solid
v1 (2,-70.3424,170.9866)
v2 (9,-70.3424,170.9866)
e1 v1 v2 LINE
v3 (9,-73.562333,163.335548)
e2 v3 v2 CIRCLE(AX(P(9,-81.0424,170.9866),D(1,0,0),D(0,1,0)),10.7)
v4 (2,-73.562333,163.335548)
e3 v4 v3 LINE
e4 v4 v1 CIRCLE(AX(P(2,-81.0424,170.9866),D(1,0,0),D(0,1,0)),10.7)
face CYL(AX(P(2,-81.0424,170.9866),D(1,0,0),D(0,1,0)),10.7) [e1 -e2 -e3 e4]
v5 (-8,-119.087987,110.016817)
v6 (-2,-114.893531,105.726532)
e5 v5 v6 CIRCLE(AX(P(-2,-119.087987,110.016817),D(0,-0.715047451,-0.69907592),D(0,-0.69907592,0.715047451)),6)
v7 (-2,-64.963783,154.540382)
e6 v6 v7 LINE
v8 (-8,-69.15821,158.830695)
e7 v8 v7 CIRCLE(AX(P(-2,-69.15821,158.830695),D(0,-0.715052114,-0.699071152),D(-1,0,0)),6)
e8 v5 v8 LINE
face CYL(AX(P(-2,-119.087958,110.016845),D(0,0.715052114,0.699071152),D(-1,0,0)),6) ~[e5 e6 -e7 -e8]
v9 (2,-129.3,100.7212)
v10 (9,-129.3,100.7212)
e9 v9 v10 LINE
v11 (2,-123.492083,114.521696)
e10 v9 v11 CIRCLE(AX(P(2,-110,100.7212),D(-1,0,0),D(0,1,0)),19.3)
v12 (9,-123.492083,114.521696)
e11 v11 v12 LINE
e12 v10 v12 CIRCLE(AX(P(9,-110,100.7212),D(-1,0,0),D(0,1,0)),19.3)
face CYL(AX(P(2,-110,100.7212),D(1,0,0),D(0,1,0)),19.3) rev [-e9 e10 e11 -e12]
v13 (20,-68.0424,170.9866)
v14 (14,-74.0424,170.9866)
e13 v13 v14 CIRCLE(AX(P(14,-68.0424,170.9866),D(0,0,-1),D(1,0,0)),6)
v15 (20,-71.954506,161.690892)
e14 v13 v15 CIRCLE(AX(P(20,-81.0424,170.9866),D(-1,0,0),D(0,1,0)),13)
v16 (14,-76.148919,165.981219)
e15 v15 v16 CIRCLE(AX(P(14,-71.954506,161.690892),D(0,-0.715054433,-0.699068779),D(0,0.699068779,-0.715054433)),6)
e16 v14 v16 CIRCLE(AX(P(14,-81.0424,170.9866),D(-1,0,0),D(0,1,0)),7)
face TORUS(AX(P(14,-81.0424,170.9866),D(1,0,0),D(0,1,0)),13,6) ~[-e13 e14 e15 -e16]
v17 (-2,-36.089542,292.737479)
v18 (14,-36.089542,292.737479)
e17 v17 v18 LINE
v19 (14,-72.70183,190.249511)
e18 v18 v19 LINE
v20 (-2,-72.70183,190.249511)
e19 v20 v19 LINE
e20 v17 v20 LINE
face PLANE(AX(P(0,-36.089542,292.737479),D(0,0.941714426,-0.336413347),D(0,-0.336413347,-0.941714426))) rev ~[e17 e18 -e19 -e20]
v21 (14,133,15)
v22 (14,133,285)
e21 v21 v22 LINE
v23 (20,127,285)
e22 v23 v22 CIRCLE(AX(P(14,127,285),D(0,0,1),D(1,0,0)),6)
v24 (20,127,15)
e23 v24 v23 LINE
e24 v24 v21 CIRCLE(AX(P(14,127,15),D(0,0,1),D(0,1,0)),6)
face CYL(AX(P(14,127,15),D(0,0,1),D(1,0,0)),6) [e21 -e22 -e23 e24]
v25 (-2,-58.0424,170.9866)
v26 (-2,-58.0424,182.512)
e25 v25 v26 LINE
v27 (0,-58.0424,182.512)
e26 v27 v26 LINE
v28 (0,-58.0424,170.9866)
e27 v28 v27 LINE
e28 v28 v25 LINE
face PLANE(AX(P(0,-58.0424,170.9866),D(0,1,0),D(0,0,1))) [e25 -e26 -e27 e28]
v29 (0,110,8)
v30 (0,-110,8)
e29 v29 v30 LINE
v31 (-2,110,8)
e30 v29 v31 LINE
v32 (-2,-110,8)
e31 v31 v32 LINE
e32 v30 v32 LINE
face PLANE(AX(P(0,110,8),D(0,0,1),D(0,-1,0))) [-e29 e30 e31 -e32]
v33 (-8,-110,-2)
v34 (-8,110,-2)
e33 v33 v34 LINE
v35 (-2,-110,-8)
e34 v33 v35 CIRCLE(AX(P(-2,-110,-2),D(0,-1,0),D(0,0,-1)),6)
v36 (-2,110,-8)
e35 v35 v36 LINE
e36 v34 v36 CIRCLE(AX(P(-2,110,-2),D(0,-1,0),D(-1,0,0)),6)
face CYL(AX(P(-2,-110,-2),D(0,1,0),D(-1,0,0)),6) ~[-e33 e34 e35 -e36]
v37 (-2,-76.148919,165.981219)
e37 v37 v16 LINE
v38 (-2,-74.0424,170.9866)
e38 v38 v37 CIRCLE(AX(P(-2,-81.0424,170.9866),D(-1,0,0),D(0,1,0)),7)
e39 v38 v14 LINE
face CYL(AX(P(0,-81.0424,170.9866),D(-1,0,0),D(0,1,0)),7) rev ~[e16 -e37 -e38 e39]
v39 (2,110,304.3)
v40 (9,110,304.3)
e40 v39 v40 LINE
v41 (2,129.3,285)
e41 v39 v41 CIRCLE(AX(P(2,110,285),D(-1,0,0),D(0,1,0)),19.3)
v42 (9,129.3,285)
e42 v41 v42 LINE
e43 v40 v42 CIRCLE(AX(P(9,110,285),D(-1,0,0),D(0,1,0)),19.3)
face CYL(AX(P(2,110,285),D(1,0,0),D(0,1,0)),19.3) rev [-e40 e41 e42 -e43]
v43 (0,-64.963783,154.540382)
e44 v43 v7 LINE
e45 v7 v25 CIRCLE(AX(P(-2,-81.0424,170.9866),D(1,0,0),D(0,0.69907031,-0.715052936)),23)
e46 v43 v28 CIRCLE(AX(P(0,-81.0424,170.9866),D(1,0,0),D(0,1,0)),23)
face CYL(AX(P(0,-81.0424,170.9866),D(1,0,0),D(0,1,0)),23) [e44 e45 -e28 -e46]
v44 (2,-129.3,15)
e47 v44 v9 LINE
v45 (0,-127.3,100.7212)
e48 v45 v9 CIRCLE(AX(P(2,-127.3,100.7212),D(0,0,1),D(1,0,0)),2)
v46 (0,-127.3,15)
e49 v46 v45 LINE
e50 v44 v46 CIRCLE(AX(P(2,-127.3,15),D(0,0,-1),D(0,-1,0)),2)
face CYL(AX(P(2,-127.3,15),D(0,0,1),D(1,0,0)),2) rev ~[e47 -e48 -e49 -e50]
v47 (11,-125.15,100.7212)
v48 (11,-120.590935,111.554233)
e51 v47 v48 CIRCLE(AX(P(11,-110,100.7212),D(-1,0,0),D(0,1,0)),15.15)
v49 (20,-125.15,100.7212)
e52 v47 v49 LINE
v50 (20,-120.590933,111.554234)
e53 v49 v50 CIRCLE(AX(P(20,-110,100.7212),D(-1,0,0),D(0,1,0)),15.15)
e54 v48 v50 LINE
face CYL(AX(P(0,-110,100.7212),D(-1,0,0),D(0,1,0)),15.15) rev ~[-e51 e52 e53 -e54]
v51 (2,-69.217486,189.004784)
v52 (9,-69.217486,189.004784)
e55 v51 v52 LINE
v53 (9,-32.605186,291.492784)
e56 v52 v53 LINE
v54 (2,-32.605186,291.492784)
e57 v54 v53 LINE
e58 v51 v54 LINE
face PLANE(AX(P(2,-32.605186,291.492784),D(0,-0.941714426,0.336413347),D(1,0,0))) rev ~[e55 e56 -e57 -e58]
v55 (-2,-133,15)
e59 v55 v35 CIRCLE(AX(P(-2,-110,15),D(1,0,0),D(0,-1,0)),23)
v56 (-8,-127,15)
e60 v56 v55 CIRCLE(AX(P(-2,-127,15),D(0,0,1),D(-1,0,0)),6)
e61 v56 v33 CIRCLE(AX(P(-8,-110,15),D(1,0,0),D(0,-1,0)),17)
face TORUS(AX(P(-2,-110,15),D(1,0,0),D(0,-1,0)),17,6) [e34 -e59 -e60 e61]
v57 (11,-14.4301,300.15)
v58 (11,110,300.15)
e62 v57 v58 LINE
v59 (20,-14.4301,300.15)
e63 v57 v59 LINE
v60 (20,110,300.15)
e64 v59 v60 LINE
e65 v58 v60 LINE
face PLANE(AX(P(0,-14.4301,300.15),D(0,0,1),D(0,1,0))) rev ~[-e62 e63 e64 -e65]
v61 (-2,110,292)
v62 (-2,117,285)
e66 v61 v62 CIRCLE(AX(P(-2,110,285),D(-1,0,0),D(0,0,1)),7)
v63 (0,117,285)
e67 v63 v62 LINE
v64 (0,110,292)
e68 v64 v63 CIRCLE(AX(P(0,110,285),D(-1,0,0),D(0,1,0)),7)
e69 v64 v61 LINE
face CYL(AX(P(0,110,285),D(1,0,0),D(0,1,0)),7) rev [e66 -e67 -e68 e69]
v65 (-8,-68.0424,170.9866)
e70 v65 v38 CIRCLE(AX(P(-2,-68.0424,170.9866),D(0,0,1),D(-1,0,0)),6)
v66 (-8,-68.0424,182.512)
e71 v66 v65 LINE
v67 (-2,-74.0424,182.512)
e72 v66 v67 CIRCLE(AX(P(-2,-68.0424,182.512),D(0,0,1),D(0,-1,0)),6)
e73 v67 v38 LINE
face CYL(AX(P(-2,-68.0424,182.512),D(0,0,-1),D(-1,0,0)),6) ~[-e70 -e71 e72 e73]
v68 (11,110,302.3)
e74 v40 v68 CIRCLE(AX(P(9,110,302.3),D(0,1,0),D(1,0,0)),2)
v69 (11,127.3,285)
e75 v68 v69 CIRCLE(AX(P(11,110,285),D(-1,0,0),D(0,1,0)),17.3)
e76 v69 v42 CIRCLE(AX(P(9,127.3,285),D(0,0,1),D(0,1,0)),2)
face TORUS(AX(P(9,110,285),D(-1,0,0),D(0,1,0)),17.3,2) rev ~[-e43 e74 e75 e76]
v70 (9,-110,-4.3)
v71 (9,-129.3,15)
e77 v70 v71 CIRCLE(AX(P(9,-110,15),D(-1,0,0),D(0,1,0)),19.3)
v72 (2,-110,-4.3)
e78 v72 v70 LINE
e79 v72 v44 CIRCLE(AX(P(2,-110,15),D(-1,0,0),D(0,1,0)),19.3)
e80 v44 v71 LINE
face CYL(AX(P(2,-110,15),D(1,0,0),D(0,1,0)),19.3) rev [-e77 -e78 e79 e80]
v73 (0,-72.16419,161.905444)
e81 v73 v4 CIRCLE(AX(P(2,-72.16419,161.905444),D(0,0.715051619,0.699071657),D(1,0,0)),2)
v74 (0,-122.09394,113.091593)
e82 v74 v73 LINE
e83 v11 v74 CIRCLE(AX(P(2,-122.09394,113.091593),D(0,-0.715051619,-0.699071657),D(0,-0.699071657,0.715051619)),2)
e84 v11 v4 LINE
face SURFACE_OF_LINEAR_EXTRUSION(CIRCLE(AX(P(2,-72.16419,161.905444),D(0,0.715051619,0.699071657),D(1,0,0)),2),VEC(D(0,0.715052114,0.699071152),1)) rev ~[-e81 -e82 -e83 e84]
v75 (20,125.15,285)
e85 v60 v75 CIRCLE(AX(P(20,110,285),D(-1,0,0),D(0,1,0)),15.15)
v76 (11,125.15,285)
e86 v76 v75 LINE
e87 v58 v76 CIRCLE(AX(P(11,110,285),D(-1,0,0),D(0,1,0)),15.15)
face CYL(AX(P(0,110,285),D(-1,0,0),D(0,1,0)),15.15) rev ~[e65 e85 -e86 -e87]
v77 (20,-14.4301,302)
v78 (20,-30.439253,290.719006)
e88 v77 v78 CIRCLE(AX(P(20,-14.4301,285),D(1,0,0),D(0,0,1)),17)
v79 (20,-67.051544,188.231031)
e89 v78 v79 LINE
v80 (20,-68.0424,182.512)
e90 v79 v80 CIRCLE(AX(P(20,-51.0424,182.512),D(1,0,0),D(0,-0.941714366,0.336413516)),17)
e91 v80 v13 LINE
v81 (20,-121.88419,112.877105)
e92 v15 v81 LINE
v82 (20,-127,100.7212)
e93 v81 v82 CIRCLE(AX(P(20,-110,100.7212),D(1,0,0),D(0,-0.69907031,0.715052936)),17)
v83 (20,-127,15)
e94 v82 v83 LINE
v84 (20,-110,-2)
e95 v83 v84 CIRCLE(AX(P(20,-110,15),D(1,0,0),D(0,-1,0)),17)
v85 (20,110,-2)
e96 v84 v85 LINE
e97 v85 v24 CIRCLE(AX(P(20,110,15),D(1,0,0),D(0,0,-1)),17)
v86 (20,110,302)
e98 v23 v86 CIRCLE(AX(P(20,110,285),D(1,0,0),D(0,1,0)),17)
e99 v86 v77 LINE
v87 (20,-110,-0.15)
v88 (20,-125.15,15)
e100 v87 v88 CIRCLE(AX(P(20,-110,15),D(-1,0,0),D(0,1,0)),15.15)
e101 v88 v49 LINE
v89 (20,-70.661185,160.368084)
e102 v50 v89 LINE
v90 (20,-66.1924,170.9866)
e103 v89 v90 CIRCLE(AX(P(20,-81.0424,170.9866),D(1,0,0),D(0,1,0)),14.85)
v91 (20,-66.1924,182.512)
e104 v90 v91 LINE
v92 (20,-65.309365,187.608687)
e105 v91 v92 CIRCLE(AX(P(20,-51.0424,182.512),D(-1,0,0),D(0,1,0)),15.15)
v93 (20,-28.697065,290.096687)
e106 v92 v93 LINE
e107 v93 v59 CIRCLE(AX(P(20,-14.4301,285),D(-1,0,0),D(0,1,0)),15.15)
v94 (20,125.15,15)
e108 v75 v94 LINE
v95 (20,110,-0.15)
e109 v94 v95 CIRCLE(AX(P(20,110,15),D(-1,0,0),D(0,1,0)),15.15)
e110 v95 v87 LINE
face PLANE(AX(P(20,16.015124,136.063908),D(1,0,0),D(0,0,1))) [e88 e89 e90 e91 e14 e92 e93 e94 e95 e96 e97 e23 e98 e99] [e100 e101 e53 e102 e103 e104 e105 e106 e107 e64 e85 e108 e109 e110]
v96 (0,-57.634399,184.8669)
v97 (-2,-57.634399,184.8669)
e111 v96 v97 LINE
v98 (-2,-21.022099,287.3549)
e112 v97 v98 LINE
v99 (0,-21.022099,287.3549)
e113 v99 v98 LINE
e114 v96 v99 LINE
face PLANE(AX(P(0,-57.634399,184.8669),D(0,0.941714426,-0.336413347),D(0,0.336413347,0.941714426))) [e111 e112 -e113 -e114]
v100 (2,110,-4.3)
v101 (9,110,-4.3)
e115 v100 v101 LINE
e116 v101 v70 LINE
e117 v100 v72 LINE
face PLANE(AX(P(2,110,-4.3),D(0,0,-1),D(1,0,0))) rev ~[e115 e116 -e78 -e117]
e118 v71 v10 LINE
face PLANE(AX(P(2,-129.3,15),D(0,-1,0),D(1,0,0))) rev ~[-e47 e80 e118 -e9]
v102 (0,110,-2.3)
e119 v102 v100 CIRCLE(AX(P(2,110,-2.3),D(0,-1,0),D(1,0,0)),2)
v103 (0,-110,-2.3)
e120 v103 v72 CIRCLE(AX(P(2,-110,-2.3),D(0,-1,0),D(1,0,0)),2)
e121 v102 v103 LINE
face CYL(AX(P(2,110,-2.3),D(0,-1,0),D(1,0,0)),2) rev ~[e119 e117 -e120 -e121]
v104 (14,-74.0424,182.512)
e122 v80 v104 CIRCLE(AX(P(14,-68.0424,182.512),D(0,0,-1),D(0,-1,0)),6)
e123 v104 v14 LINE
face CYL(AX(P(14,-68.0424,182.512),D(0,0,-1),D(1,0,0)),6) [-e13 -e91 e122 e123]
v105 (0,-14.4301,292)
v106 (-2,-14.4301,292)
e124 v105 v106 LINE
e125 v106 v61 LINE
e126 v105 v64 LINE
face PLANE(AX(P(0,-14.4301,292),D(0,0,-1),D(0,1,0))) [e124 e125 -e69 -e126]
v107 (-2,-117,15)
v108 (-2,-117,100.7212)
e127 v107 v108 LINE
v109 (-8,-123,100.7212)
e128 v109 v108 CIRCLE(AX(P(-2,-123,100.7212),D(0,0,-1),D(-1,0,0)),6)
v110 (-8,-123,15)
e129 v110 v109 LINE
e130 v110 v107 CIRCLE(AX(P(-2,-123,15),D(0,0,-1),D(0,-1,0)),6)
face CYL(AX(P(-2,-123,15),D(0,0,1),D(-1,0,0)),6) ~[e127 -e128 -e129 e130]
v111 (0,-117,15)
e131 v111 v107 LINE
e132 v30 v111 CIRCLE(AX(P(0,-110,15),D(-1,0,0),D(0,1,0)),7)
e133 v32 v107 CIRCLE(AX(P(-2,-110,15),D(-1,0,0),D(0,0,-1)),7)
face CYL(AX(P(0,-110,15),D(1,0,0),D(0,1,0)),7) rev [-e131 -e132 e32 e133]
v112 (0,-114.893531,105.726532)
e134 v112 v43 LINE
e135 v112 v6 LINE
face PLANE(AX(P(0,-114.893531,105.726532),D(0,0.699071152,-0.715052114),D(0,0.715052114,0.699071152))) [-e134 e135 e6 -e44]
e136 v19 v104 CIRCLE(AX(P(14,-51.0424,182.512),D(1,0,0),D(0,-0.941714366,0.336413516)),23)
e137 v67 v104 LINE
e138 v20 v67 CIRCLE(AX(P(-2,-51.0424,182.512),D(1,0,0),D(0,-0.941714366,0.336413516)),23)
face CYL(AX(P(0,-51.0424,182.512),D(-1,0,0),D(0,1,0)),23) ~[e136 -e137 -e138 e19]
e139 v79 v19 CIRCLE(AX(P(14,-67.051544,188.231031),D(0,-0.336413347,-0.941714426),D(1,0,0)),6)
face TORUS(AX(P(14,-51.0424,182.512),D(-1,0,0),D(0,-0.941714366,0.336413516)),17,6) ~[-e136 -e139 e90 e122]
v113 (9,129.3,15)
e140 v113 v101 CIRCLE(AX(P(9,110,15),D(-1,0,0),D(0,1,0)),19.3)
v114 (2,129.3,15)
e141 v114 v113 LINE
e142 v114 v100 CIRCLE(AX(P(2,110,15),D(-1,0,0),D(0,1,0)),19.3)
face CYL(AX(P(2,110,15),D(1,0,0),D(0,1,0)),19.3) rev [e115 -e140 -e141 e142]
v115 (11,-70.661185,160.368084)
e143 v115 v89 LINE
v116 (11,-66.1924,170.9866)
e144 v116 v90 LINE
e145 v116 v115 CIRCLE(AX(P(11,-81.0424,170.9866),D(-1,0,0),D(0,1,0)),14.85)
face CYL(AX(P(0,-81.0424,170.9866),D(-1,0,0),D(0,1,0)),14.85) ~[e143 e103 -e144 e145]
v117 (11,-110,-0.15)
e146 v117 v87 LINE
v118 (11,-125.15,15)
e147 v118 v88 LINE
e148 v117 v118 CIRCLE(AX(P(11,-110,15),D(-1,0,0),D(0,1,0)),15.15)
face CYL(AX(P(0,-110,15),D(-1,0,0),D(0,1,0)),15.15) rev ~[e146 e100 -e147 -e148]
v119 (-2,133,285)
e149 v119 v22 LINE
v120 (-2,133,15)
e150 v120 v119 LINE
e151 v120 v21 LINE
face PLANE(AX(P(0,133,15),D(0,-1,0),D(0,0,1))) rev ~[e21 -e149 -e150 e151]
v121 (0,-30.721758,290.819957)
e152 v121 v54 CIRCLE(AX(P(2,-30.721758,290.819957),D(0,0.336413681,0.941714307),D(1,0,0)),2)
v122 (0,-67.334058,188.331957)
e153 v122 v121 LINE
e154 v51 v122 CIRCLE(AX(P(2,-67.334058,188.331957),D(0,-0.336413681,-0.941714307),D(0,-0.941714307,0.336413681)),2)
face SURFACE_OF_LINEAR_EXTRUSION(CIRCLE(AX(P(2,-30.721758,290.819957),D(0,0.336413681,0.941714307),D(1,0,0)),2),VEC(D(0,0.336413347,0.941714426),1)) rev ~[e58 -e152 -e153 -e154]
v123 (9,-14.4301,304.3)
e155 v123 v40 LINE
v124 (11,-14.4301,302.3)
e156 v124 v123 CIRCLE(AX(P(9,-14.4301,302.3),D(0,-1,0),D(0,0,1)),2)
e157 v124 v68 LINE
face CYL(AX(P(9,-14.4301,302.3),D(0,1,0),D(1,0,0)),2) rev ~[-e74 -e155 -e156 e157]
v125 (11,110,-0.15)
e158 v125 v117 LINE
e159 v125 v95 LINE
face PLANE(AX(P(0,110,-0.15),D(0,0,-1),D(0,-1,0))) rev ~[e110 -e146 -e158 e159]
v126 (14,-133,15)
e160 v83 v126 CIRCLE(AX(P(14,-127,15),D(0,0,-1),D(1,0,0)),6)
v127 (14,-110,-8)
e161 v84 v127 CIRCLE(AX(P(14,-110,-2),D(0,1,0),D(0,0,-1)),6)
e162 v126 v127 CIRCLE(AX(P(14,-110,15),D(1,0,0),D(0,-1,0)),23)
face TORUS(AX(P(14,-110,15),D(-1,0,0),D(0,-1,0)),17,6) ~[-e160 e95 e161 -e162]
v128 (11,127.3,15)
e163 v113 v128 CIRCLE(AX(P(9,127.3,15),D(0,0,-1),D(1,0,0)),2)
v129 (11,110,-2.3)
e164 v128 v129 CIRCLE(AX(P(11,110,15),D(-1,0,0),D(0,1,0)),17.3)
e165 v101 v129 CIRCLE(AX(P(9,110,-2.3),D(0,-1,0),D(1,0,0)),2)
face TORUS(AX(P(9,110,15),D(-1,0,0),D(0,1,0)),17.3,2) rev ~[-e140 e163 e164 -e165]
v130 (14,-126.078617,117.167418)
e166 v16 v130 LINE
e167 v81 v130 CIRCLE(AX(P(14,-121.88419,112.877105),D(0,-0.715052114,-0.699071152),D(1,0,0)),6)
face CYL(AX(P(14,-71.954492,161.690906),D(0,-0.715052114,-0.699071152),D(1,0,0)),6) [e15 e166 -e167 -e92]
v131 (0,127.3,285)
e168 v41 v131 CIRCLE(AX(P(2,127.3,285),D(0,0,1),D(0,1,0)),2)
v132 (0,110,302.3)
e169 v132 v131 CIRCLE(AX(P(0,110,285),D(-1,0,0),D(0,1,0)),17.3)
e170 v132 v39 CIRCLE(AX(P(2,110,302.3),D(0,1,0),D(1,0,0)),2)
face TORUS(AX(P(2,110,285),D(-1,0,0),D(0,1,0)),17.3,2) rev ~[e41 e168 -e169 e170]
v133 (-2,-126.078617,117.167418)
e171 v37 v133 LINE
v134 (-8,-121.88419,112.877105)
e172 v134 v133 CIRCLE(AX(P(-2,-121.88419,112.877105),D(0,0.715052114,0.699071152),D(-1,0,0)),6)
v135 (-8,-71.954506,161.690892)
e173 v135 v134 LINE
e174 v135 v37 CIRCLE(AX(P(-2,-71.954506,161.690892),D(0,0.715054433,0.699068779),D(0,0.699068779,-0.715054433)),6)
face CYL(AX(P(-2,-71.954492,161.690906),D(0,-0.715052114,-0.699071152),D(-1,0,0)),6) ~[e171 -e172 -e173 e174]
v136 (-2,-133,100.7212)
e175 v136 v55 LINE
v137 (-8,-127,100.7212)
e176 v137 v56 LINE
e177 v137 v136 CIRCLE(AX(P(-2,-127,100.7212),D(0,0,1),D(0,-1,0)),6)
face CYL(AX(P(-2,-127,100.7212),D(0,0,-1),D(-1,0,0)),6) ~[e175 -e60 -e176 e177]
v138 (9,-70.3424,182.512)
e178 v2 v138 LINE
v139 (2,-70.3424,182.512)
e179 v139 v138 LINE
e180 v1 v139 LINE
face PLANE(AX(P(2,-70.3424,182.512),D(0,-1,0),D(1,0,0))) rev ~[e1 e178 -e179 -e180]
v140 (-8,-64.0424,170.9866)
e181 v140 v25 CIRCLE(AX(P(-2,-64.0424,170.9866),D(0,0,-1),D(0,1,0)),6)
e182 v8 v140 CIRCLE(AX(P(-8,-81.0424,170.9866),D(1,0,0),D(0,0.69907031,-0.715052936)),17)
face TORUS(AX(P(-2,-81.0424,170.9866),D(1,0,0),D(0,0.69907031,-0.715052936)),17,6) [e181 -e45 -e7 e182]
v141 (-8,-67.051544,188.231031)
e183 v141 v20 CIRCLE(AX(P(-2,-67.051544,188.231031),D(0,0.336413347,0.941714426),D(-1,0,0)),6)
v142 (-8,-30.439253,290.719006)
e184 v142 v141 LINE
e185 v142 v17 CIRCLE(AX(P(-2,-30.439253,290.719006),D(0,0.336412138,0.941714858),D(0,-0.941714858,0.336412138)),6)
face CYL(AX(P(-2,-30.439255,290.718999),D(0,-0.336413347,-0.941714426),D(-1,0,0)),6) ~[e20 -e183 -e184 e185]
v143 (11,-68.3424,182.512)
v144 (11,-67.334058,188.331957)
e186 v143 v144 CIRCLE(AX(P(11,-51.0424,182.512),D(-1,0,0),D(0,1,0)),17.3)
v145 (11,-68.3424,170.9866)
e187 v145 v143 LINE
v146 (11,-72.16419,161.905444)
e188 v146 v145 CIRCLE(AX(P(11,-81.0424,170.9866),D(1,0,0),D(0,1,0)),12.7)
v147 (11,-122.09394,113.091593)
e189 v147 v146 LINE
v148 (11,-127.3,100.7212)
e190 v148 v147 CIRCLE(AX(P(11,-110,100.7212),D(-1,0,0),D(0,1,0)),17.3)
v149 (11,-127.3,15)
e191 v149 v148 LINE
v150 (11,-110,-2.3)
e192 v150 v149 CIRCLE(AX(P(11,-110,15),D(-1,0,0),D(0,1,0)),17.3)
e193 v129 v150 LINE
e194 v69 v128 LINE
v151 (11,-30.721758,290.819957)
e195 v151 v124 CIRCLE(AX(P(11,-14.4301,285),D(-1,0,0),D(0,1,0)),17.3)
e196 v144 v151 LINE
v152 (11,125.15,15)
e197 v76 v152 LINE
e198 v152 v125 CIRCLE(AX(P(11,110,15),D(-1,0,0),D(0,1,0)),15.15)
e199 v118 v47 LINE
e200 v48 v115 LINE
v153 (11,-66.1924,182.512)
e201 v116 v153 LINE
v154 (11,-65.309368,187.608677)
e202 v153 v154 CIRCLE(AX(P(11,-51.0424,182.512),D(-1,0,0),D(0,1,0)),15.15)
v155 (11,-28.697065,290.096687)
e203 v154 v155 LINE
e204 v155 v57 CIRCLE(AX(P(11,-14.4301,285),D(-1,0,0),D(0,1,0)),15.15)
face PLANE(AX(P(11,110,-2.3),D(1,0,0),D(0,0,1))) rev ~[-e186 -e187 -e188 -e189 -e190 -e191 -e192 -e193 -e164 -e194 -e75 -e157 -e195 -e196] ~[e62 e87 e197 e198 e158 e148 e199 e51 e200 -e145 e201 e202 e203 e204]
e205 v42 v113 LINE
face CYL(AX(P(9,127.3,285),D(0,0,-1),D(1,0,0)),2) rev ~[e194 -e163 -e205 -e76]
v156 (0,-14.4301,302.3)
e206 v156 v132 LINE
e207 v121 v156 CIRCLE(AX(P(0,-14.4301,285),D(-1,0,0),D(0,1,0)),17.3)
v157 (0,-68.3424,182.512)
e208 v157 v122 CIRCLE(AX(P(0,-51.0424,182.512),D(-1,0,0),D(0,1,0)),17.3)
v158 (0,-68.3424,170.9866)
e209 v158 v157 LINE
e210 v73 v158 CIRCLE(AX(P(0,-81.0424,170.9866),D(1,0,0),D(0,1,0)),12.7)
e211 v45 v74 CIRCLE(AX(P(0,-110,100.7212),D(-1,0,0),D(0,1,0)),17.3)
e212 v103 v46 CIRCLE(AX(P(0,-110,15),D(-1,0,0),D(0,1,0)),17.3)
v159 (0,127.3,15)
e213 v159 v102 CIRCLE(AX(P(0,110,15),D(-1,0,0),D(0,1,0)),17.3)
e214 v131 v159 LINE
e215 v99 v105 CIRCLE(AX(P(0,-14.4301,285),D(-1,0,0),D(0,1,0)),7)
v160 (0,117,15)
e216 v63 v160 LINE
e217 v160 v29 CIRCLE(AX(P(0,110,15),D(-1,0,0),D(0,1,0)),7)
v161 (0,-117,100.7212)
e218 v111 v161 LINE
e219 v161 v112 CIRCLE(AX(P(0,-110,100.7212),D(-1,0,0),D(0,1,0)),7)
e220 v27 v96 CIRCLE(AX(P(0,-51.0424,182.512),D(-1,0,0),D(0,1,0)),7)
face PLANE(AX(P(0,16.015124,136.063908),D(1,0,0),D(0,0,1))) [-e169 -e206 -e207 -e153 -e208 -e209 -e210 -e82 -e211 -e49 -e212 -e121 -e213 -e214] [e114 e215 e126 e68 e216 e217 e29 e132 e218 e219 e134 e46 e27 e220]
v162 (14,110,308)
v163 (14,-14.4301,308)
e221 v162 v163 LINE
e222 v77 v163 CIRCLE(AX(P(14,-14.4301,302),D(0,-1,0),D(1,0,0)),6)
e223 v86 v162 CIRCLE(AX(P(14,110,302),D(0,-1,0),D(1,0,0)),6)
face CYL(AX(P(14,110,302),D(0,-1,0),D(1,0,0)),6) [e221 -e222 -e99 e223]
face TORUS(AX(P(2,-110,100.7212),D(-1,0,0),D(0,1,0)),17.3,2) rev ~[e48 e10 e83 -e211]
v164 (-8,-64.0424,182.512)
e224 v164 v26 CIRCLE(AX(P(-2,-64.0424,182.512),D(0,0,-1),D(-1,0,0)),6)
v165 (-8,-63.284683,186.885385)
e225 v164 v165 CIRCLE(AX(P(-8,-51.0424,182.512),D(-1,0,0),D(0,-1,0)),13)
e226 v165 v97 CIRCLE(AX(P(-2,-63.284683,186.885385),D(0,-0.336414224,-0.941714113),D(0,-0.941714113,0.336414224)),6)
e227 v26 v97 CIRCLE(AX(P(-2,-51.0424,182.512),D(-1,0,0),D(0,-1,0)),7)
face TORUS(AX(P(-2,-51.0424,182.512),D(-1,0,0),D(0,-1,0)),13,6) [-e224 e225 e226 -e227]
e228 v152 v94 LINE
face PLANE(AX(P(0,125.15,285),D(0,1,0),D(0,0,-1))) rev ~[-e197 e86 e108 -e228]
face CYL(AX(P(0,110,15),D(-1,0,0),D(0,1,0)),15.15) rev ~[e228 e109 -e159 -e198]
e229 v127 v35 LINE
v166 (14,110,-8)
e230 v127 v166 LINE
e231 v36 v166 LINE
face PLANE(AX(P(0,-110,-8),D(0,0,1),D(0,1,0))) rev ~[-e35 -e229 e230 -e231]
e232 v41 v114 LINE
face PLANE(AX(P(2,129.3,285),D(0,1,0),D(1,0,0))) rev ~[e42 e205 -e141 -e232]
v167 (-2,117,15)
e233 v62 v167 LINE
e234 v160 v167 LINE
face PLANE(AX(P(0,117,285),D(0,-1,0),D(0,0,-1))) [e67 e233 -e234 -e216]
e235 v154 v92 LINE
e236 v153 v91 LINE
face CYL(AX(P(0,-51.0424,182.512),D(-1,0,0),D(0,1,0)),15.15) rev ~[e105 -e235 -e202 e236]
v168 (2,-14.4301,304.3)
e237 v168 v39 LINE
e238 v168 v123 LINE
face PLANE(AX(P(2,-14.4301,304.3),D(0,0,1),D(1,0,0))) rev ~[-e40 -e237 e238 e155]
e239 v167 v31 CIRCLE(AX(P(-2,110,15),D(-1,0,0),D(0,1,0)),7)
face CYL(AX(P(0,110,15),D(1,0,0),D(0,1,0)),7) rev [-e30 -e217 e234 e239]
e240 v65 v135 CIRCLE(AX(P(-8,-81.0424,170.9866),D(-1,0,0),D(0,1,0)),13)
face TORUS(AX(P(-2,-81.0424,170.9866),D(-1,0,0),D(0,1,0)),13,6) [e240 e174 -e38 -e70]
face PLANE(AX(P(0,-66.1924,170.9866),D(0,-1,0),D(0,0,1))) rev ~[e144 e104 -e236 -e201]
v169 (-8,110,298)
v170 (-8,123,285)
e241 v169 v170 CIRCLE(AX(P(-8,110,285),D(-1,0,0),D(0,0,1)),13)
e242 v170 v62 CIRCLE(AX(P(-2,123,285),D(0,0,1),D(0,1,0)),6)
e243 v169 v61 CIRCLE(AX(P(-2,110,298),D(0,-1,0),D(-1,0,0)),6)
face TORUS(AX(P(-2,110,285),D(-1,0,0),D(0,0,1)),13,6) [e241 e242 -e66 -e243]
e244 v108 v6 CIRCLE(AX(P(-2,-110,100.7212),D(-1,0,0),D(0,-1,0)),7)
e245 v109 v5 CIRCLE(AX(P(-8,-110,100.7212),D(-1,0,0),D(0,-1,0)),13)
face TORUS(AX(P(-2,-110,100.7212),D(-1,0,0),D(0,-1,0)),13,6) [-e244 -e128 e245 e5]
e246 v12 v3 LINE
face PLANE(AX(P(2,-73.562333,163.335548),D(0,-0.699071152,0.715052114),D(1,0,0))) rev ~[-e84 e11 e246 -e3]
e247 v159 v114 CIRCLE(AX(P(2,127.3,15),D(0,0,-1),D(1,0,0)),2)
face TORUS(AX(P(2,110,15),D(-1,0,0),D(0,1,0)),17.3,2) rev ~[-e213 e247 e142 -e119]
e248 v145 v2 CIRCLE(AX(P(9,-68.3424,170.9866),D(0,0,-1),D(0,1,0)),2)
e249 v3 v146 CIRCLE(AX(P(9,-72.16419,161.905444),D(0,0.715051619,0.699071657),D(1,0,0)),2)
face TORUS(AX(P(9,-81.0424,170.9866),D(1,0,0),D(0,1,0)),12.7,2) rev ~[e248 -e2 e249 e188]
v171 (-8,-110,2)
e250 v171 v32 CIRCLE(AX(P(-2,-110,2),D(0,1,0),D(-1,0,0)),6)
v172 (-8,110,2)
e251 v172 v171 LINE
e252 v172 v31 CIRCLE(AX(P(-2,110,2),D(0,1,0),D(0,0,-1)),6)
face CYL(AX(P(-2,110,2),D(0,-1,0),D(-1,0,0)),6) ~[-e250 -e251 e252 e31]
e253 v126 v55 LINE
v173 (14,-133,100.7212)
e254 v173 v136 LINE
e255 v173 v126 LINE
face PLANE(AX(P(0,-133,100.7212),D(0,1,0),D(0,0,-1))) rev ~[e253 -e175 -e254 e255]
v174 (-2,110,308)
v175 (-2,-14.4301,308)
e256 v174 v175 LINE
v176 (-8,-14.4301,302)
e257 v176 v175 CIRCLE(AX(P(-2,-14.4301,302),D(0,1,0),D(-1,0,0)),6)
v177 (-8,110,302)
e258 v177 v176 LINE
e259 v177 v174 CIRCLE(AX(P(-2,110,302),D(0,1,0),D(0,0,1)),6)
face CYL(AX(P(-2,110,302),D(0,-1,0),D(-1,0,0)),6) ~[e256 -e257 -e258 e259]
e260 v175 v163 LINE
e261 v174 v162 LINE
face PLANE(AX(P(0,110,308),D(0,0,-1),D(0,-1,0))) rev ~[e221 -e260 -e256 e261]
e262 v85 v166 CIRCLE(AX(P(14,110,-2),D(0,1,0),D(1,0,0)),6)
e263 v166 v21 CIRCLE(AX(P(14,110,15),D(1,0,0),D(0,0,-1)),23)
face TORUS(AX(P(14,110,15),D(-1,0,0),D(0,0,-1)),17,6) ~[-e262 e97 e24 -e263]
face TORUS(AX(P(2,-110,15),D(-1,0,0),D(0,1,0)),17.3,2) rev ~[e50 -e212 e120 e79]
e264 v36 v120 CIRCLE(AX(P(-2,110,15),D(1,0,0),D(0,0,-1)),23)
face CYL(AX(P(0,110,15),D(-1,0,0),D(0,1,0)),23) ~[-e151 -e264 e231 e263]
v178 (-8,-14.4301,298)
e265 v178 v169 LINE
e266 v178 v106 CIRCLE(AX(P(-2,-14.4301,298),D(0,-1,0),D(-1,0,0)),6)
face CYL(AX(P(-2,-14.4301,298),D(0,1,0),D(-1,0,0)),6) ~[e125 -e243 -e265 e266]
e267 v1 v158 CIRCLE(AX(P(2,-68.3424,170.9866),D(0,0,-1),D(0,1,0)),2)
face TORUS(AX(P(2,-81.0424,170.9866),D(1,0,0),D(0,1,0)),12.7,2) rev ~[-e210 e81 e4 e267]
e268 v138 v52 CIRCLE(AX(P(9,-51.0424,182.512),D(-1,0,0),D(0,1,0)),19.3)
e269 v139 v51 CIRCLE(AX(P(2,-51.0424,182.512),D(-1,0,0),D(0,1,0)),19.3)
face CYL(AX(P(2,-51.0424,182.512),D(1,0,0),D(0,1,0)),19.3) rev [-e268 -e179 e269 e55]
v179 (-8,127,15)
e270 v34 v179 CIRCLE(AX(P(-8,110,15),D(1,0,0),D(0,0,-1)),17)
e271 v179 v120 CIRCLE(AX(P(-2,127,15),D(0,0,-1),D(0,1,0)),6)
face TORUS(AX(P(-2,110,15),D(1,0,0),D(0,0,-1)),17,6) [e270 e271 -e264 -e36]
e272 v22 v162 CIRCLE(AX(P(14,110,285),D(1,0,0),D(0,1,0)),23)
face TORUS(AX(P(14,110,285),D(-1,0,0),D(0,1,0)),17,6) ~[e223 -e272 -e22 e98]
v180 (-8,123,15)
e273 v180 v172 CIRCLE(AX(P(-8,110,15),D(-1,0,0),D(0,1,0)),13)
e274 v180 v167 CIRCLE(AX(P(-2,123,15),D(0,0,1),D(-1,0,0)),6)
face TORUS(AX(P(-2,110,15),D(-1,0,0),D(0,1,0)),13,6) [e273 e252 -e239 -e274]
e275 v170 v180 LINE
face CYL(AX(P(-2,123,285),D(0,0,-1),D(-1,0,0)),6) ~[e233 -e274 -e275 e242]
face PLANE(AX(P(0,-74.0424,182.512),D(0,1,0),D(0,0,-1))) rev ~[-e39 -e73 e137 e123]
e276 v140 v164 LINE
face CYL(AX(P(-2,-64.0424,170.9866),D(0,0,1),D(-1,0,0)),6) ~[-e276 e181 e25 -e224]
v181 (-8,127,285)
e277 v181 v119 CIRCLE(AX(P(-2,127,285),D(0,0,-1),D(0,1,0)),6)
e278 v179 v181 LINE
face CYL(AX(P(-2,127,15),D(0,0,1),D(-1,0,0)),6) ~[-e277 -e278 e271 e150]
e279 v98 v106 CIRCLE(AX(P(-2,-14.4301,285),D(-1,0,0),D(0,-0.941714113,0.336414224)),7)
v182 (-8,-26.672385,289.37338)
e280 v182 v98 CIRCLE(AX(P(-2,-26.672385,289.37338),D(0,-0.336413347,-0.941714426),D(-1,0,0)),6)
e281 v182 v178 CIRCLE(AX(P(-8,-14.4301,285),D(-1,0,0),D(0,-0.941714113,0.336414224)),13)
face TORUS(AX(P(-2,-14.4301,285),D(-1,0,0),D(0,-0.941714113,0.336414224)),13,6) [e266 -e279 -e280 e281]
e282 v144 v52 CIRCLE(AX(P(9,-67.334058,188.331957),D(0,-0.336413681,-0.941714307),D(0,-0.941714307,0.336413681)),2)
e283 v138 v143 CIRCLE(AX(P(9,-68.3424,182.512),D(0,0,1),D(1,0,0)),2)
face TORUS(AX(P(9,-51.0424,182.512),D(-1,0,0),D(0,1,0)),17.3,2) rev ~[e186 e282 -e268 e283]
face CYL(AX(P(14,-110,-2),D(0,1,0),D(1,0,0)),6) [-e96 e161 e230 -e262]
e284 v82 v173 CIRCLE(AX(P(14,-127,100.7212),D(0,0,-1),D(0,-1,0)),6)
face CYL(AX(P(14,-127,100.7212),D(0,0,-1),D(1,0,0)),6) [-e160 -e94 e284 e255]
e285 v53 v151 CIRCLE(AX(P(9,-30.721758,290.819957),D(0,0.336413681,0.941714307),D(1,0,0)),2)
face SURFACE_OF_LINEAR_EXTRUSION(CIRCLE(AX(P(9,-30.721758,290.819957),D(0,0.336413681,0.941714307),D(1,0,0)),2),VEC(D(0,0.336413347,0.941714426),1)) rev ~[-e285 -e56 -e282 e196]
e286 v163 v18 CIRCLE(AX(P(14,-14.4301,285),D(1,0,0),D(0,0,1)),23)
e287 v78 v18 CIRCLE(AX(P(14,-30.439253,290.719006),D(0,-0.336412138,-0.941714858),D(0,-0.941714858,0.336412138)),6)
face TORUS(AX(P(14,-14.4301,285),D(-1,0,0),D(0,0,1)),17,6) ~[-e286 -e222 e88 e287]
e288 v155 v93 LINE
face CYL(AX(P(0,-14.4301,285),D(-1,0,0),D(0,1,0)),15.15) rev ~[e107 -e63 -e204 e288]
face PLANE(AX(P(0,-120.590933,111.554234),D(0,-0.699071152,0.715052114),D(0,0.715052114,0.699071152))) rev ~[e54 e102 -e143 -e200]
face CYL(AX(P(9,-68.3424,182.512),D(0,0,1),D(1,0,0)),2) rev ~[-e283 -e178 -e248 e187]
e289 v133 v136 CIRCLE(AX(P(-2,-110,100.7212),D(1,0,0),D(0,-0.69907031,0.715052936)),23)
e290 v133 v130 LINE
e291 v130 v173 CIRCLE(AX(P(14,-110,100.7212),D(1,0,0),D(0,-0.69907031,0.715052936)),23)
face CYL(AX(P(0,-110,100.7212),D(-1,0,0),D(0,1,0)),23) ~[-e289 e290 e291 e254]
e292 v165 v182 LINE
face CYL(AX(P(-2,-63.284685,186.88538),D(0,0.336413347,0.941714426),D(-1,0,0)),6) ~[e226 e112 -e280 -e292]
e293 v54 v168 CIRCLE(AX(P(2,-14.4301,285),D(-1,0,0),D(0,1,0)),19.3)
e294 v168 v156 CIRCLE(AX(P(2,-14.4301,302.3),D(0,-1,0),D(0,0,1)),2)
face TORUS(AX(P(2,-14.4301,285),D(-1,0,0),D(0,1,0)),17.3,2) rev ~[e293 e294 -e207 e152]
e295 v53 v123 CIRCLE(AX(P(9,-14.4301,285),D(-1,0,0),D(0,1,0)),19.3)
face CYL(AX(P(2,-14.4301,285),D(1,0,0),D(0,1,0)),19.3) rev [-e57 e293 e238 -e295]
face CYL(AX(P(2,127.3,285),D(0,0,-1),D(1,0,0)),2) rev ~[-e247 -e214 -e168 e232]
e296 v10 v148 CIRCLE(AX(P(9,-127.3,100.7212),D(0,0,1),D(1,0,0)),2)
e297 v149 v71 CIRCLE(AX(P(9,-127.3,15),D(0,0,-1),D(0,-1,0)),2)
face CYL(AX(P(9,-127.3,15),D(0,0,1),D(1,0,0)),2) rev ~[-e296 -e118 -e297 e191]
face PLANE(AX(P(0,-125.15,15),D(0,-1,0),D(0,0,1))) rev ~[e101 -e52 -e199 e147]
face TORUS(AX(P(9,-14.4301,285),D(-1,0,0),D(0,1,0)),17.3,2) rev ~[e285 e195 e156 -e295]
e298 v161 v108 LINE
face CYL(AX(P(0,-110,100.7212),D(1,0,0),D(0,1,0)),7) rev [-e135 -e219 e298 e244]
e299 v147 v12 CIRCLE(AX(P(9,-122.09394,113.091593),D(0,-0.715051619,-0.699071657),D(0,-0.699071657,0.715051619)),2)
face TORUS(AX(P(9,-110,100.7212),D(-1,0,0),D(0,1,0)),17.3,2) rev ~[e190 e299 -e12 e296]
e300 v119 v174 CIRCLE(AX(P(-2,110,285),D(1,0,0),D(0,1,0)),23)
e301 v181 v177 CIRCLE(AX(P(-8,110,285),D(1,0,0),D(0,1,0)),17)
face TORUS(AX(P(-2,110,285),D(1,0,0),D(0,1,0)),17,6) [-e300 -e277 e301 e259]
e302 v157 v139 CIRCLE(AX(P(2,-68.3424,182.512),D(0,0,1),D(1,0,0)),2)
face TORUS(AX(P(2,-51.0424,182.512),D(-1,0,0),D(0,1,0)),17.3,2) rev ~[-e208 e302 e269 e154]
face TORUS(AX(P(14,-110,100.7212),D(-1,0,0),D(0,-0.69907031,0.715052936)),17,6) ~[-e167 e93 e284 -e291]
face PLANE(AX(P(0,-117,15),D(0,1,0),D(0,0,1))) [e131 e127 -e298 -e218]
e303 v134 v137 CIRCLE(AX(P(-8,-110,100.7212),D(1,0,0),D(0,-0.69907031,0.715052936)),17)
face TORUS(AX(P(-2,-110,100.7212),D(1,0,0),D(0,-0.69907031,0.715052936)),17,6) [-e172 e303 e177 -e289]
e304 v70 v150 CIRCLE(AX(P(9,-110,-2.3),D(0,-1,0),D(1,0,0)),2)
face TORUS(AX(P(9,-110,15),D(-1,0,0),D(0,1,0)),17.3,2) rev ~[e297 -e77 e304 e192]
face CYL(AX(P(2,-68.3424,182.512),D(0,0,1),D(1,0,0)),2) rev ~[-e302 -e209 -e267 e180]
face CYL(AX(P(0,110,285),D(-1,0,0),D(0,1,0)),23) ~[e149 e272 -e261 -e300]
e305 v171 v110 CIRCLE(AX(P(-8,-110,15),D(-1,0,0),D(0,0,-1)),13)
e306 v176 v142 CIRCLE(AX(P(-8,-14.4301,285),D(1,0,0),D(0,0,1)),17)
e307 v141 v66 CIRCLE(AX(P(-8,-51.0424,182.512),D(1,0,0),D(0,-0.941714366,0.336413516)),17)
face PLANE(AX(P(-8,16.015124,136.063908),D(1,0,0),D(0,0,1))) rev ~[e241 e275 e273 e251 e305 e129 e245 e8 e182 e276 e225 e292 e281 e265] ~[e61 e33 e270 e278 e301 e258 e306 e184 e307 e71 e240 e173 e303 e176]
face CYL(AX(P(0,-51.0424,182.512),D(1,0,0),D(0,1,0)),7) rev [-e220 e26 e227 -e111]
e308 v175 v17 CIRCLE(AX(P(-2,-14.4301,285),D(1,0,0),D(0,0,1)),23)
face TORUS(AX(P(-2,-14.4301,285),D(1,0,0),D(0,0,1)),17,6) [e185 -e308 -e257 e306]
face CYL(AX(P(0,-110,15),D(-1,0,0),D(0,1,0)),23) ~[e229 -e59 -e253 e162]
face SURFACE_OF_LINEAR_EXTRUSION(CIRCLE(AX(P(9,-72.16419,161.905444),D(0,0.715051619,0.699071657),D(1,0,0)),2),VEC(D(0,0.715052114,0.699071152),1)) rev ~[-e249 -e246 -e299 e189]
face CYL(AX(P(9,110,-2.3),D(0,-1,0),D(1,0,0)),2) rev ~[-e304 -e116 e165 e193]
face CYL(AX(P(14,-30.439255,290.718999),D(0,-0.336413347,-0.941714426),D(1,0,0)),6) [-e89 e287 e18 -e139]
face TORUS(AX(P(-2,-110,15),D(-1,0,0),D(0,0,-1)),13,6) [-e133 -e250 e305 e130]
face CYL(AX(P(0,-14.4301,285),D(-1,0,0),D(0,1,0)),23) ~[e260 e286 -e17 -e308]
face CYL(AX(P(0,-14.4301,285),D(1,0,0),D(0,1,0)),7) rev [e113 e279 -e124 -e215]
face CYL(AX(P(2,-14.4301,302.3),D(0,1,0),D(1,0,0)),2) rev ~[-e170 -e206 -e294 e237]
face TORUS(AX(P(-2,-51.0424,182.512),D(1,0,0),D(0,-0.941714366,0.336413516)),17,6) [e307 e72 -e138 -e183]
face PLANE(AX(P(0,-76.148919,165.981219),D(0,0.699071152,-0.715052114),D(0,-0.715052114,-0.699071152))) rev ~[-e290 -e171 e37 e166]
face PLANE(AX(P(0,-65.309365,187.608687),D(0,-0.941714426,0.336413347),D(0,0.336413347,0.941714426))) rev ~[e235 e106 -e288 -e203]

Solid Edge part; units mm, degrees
sketch "Sketch1" plane through (0, 0, 0) normal (1, 0, 0) x (0, 1, 0)
  line L0 (110, -0.15) -> (-110, -0.15)
  arc A0 (-110, -0.15) -> (-125.15, 15) centre (-110, 15) cw
  line L1 (-125.15, 15) -> (-125.15, 100.7212)
  arc A1 (-125.15, 100.7212) -> (-120.5909, 111.5542) centre (-110, 100.7212) cw
  line L2 (-120.5909, 111.5542) -> (-70.6612, 160.3681)
  arc A2 (-70.6612, 160.3681) -> (-66.1924, 170.9866) centre (-81.0424, 170.9866) ccw
  line L3 (-66.1924, 170.9866) -> (-66.1924, 182.512)
  arc A3 (-66.1924, 182.512) -> (-65.3094, 187.6087) centre (-51.0424, 182.512) cw
  line L4 (-65.3094, 187.6087) -> (-28.6971, 290.0967)
  arc A4 (-28.6971, 290.0967) -> (-14.4301, 300.15) centre (-14.4301, 285) cw
  line L5 (-14.4301, 300.15) -> (110, 300.15)
  arc A5 (110, 300.15) -> (125.15, 285) centre (110, 285) cw
  line L6 (125.15, 285) -> (125.15, 15)
  arc A6 (125.15, 15) -> (110, -0.15) centre (110, 15) cw
  line L7 (-110, -8) -> (110, -8)
  arc A7 (110, -8) -> (133, 15) centre (110, 15) ccw
  line L8 (133, 15) -> (133, 285)
  arc A8 (133, 285) -> (110, 308) centre (110, 285) ccw
  line L9 (110, 308) -> (-14.4301, 308)
  arc A9 (-14.4301, 308) -> (-36.0896, 292.7375) centre (-14.4301, 285) ccw
  line L10 (-36.0896, 292.7375) -> (-72.7018, 190.2495)
  arc A10 (-72.7018, 190.2495) -> (-74.0424, 182.512) centre (-51.0424, 182.512) ccw
  line L11 (-74.0424, 182.512) -> (-74.0424, 170.9866)
  arc A11 (-74.0424, 170.9866) -> (-76.1489, 165.9812) centre (-81.0424, 170.9866) cw
  line L12 (-76.1489, 165.9812) -> (-126.0786, 117.1674)
  arc A12 (-126.0786, 117.1674) -> (-133, 100.7212) centre (-110, 100.7212) ccw
  line L13 (-133, 100.7212) -> (-133, 15)
  arc A13 (-133, 15) -> (-110, -8) centre (-110, 15) ccw
extrude "Protrusion1" add sketch "Sketch1" along normal blind 20
sketch "Sketch2" plane through (0, 0, 0) normal (1, 0, 0) x (0, 1, 0)
  line L0 (-110, -8) -> (110, -8)
  arc A0 (110, -8) -> (133, 15) centre (110, 15) ccw
  line L1 (133, 15) -> (133, 285)
  arc A1 (133, 285) -> (110, 308) centre (110, 285) ccw
  line L2 (110, 308) -> (-14.4301, 308)
  arc A2 (-14.4301, 308) -> (-36.0896, 292.7375) centre (-14.4301, 285) ccw
  line L3 (-36.0896, 292.7375) -> (-72.7018, 190.2495)
  arc A3 (-72.7018, 190.2495) -> (-74.0424, 182.512) centre (-51.0424, 182.512) ccw
  line L4 (-74.0424, 182.512) -> (-74.0424, 170.9866)
  arc A4 (-74.0424, 170.9866) -> (-76.1489, 165.9812) centre (-81.0424, 170.9866) cw
  line L5 (-76.1489, 165.9812) -> (-126.0786, 117.1674)
  arc A5 (-126.0786, 117.1674) -> (-133, 100.7212) centre (-110, 100.7212) ccw
  line L6 (-133, 100.7212) -> (-133, 15)
  arc A6 (-133, 15) -> (-110, -8) centre (-110, 15) ccw
  line L7 (110, 8) -> (-110, 8)
  arc A7 (-110, 8) -> (-117, 15) centre (-110, 15) cw
  line L8 (-117, 15) -> (-117, 100.7212)
  arc A8 (-117, 100.7212) -> (-114.8935, 105.7265) centre (-110, 100.7212) cw
  line L9 (-114.8935, 105.7265) -> (-64.9638, 154.5404)
  arc A9 (-64.9638, 154.5404) -> (-58.0424, 170.9866) centre (-81.0424, 170.9866) ccw
  line L10 (-58.0424, 170.9866) -> (-58.0424, 182.512)
  arc A10 (-58.0424, 182.512) -> (-57.6344, 184.8669) centre (-51.0424, 182.512) cw
  line L11 (-57.6344, 184.8669) -> (-21.0221, 287.3549)
  arc A11 (-21.0221, 287.3549) -> (-14.4301, 292) centre (-14.4301, 285) cw
  line L12 (-14.4301, 292) -> (110, 292)
  arc A12 (110, 292) -> (117, 285) centre (110, 285) cw
  line L13 (117, 285) -> (117, 15)
  arc A13 (117, 15) -> (110, 8) centre (110, 15) cw
extrude "ExtrudedProtrusion_2" add sketch "Sketch2" against normal blind 8
fillet "Round1" radius 6 42 edges at (-8, 126.2635, 301.2635) (-8, 47.7849, 308) (-8, -27.6785, 303.8011) (-8, -54.3957, 241.4935) (-8, -73.7048, 186.4384) (-8, -74.0424, 176.7493) (-8, -74.5905, 168.2713) (-8, -101.1138, 141.5743) (-8, -131.1992, 109.6428) (-8, -133, 57.8606) (-8, -126.2635, -1.2635) (-8, 0, -8) (-8, 126.2635, -1.2635) (-8, 133, 150) (20, 47.7849, 308) (20, -27.6785, 303.8011) (20, -54.3957, 241.4935) (20, -73.7048, 186.4384) (20, -74.0424, 176.7493) (20, -74.5905, 168.2713) (20, -101.1138, 141.5743) (20, -131.1992, 109.6428) (20, -133, 57.8606) (20, -126.2635, -1.2635) (20, 0, -8) (20, 126.2635, -1.2635) (20, 133, 150) (20, 126.2635, 301.2635) (-8, 47.7849, 292) (-8, 114.9497, 289.9497) (-8, 117, 150) (-8, 114.9497, 10.0503) (-8, 0, 8) (-8, -114.9497, 10.0503) (-8, -117, 57.8606) (-8, -116.4519, 103.4365) (-8, -89.9286, 130.1335) (-8, -59.8433, 162.065) (-8, -58.0424, 176.7493) (-8, -57.9397, 183.707) (-8, -39.3283, 236.1109) (-8, -18.4622, 290.7221)
sketch "Sketch3" plane through (5.5, 0, 0) normal (1, 0, 0) x (0, 1, 0)
  line L0 (110, 0) -> (-110, 0)
  arc A0 (-110, 0) -> (-125, 15) centre (-110, 15) cw
  line L1 (-125, 15) -> (-125, 100.7212)
  arc A1 (-125, 100.7212) -> (-120.4861, 111.447) centre (-110, 100.7212) cw
  line L2 (-70.5563, 160.2608) -> (-120.4861, 111.447)
  arc A2 (-66.0424, 170.9866) -> (-70.5563, 160.2608) centre (-81.0424, 170.9866) cw
  line L3 (-66.0424, 182.512) -> (-66.0424, 170.9866)
  arc A3 (-65.1681, 187.5582) -> (-66.0424, 182.512) centre (-51.0424, 182.512) ccw
  line L4 (-28.5558, 290.0462) -> (-65.1681, 187.5582)
  arc A4 (-28.5558, 290.0462) -> (-14.4301, 300) centre (-14.4301, 285) cw
  line L5 (-14.4301, 300) -> (110, 300)
  arc A5 (110, 300) -> (125, 285) centre (110, 285) cw
  line L6 (125, 285) -> (125, 15)
  arc A6 (125, 15) -> (110, 0) centre (110, 15) cw
sketch "Sketch4" plane through (5.5, -53.9111, 0) normal (0, -1, 0) x (1, 0, 0)
  line L0 (5.5, 0) -> (-5.5, 0)
  line L1 (-5.5, 0) -> (-5.5, -2.3)
  arc A0 (-3.5, -4.3) -> (-5.5, -2.3) centre (-3.5, -2.3) cw
  line L2 (-3.5, -4.3) -> (3.5, -4.3)
  arc A1 (5.5, -2.3) -> (3.5, -4.3) centre (3.5, -2.3) cw
  line L3 (5.5, -2.3) -> (5.5, 0)
sweep "SweptCutout_2" cut profiles "Sketch4" path "Sketch3"
